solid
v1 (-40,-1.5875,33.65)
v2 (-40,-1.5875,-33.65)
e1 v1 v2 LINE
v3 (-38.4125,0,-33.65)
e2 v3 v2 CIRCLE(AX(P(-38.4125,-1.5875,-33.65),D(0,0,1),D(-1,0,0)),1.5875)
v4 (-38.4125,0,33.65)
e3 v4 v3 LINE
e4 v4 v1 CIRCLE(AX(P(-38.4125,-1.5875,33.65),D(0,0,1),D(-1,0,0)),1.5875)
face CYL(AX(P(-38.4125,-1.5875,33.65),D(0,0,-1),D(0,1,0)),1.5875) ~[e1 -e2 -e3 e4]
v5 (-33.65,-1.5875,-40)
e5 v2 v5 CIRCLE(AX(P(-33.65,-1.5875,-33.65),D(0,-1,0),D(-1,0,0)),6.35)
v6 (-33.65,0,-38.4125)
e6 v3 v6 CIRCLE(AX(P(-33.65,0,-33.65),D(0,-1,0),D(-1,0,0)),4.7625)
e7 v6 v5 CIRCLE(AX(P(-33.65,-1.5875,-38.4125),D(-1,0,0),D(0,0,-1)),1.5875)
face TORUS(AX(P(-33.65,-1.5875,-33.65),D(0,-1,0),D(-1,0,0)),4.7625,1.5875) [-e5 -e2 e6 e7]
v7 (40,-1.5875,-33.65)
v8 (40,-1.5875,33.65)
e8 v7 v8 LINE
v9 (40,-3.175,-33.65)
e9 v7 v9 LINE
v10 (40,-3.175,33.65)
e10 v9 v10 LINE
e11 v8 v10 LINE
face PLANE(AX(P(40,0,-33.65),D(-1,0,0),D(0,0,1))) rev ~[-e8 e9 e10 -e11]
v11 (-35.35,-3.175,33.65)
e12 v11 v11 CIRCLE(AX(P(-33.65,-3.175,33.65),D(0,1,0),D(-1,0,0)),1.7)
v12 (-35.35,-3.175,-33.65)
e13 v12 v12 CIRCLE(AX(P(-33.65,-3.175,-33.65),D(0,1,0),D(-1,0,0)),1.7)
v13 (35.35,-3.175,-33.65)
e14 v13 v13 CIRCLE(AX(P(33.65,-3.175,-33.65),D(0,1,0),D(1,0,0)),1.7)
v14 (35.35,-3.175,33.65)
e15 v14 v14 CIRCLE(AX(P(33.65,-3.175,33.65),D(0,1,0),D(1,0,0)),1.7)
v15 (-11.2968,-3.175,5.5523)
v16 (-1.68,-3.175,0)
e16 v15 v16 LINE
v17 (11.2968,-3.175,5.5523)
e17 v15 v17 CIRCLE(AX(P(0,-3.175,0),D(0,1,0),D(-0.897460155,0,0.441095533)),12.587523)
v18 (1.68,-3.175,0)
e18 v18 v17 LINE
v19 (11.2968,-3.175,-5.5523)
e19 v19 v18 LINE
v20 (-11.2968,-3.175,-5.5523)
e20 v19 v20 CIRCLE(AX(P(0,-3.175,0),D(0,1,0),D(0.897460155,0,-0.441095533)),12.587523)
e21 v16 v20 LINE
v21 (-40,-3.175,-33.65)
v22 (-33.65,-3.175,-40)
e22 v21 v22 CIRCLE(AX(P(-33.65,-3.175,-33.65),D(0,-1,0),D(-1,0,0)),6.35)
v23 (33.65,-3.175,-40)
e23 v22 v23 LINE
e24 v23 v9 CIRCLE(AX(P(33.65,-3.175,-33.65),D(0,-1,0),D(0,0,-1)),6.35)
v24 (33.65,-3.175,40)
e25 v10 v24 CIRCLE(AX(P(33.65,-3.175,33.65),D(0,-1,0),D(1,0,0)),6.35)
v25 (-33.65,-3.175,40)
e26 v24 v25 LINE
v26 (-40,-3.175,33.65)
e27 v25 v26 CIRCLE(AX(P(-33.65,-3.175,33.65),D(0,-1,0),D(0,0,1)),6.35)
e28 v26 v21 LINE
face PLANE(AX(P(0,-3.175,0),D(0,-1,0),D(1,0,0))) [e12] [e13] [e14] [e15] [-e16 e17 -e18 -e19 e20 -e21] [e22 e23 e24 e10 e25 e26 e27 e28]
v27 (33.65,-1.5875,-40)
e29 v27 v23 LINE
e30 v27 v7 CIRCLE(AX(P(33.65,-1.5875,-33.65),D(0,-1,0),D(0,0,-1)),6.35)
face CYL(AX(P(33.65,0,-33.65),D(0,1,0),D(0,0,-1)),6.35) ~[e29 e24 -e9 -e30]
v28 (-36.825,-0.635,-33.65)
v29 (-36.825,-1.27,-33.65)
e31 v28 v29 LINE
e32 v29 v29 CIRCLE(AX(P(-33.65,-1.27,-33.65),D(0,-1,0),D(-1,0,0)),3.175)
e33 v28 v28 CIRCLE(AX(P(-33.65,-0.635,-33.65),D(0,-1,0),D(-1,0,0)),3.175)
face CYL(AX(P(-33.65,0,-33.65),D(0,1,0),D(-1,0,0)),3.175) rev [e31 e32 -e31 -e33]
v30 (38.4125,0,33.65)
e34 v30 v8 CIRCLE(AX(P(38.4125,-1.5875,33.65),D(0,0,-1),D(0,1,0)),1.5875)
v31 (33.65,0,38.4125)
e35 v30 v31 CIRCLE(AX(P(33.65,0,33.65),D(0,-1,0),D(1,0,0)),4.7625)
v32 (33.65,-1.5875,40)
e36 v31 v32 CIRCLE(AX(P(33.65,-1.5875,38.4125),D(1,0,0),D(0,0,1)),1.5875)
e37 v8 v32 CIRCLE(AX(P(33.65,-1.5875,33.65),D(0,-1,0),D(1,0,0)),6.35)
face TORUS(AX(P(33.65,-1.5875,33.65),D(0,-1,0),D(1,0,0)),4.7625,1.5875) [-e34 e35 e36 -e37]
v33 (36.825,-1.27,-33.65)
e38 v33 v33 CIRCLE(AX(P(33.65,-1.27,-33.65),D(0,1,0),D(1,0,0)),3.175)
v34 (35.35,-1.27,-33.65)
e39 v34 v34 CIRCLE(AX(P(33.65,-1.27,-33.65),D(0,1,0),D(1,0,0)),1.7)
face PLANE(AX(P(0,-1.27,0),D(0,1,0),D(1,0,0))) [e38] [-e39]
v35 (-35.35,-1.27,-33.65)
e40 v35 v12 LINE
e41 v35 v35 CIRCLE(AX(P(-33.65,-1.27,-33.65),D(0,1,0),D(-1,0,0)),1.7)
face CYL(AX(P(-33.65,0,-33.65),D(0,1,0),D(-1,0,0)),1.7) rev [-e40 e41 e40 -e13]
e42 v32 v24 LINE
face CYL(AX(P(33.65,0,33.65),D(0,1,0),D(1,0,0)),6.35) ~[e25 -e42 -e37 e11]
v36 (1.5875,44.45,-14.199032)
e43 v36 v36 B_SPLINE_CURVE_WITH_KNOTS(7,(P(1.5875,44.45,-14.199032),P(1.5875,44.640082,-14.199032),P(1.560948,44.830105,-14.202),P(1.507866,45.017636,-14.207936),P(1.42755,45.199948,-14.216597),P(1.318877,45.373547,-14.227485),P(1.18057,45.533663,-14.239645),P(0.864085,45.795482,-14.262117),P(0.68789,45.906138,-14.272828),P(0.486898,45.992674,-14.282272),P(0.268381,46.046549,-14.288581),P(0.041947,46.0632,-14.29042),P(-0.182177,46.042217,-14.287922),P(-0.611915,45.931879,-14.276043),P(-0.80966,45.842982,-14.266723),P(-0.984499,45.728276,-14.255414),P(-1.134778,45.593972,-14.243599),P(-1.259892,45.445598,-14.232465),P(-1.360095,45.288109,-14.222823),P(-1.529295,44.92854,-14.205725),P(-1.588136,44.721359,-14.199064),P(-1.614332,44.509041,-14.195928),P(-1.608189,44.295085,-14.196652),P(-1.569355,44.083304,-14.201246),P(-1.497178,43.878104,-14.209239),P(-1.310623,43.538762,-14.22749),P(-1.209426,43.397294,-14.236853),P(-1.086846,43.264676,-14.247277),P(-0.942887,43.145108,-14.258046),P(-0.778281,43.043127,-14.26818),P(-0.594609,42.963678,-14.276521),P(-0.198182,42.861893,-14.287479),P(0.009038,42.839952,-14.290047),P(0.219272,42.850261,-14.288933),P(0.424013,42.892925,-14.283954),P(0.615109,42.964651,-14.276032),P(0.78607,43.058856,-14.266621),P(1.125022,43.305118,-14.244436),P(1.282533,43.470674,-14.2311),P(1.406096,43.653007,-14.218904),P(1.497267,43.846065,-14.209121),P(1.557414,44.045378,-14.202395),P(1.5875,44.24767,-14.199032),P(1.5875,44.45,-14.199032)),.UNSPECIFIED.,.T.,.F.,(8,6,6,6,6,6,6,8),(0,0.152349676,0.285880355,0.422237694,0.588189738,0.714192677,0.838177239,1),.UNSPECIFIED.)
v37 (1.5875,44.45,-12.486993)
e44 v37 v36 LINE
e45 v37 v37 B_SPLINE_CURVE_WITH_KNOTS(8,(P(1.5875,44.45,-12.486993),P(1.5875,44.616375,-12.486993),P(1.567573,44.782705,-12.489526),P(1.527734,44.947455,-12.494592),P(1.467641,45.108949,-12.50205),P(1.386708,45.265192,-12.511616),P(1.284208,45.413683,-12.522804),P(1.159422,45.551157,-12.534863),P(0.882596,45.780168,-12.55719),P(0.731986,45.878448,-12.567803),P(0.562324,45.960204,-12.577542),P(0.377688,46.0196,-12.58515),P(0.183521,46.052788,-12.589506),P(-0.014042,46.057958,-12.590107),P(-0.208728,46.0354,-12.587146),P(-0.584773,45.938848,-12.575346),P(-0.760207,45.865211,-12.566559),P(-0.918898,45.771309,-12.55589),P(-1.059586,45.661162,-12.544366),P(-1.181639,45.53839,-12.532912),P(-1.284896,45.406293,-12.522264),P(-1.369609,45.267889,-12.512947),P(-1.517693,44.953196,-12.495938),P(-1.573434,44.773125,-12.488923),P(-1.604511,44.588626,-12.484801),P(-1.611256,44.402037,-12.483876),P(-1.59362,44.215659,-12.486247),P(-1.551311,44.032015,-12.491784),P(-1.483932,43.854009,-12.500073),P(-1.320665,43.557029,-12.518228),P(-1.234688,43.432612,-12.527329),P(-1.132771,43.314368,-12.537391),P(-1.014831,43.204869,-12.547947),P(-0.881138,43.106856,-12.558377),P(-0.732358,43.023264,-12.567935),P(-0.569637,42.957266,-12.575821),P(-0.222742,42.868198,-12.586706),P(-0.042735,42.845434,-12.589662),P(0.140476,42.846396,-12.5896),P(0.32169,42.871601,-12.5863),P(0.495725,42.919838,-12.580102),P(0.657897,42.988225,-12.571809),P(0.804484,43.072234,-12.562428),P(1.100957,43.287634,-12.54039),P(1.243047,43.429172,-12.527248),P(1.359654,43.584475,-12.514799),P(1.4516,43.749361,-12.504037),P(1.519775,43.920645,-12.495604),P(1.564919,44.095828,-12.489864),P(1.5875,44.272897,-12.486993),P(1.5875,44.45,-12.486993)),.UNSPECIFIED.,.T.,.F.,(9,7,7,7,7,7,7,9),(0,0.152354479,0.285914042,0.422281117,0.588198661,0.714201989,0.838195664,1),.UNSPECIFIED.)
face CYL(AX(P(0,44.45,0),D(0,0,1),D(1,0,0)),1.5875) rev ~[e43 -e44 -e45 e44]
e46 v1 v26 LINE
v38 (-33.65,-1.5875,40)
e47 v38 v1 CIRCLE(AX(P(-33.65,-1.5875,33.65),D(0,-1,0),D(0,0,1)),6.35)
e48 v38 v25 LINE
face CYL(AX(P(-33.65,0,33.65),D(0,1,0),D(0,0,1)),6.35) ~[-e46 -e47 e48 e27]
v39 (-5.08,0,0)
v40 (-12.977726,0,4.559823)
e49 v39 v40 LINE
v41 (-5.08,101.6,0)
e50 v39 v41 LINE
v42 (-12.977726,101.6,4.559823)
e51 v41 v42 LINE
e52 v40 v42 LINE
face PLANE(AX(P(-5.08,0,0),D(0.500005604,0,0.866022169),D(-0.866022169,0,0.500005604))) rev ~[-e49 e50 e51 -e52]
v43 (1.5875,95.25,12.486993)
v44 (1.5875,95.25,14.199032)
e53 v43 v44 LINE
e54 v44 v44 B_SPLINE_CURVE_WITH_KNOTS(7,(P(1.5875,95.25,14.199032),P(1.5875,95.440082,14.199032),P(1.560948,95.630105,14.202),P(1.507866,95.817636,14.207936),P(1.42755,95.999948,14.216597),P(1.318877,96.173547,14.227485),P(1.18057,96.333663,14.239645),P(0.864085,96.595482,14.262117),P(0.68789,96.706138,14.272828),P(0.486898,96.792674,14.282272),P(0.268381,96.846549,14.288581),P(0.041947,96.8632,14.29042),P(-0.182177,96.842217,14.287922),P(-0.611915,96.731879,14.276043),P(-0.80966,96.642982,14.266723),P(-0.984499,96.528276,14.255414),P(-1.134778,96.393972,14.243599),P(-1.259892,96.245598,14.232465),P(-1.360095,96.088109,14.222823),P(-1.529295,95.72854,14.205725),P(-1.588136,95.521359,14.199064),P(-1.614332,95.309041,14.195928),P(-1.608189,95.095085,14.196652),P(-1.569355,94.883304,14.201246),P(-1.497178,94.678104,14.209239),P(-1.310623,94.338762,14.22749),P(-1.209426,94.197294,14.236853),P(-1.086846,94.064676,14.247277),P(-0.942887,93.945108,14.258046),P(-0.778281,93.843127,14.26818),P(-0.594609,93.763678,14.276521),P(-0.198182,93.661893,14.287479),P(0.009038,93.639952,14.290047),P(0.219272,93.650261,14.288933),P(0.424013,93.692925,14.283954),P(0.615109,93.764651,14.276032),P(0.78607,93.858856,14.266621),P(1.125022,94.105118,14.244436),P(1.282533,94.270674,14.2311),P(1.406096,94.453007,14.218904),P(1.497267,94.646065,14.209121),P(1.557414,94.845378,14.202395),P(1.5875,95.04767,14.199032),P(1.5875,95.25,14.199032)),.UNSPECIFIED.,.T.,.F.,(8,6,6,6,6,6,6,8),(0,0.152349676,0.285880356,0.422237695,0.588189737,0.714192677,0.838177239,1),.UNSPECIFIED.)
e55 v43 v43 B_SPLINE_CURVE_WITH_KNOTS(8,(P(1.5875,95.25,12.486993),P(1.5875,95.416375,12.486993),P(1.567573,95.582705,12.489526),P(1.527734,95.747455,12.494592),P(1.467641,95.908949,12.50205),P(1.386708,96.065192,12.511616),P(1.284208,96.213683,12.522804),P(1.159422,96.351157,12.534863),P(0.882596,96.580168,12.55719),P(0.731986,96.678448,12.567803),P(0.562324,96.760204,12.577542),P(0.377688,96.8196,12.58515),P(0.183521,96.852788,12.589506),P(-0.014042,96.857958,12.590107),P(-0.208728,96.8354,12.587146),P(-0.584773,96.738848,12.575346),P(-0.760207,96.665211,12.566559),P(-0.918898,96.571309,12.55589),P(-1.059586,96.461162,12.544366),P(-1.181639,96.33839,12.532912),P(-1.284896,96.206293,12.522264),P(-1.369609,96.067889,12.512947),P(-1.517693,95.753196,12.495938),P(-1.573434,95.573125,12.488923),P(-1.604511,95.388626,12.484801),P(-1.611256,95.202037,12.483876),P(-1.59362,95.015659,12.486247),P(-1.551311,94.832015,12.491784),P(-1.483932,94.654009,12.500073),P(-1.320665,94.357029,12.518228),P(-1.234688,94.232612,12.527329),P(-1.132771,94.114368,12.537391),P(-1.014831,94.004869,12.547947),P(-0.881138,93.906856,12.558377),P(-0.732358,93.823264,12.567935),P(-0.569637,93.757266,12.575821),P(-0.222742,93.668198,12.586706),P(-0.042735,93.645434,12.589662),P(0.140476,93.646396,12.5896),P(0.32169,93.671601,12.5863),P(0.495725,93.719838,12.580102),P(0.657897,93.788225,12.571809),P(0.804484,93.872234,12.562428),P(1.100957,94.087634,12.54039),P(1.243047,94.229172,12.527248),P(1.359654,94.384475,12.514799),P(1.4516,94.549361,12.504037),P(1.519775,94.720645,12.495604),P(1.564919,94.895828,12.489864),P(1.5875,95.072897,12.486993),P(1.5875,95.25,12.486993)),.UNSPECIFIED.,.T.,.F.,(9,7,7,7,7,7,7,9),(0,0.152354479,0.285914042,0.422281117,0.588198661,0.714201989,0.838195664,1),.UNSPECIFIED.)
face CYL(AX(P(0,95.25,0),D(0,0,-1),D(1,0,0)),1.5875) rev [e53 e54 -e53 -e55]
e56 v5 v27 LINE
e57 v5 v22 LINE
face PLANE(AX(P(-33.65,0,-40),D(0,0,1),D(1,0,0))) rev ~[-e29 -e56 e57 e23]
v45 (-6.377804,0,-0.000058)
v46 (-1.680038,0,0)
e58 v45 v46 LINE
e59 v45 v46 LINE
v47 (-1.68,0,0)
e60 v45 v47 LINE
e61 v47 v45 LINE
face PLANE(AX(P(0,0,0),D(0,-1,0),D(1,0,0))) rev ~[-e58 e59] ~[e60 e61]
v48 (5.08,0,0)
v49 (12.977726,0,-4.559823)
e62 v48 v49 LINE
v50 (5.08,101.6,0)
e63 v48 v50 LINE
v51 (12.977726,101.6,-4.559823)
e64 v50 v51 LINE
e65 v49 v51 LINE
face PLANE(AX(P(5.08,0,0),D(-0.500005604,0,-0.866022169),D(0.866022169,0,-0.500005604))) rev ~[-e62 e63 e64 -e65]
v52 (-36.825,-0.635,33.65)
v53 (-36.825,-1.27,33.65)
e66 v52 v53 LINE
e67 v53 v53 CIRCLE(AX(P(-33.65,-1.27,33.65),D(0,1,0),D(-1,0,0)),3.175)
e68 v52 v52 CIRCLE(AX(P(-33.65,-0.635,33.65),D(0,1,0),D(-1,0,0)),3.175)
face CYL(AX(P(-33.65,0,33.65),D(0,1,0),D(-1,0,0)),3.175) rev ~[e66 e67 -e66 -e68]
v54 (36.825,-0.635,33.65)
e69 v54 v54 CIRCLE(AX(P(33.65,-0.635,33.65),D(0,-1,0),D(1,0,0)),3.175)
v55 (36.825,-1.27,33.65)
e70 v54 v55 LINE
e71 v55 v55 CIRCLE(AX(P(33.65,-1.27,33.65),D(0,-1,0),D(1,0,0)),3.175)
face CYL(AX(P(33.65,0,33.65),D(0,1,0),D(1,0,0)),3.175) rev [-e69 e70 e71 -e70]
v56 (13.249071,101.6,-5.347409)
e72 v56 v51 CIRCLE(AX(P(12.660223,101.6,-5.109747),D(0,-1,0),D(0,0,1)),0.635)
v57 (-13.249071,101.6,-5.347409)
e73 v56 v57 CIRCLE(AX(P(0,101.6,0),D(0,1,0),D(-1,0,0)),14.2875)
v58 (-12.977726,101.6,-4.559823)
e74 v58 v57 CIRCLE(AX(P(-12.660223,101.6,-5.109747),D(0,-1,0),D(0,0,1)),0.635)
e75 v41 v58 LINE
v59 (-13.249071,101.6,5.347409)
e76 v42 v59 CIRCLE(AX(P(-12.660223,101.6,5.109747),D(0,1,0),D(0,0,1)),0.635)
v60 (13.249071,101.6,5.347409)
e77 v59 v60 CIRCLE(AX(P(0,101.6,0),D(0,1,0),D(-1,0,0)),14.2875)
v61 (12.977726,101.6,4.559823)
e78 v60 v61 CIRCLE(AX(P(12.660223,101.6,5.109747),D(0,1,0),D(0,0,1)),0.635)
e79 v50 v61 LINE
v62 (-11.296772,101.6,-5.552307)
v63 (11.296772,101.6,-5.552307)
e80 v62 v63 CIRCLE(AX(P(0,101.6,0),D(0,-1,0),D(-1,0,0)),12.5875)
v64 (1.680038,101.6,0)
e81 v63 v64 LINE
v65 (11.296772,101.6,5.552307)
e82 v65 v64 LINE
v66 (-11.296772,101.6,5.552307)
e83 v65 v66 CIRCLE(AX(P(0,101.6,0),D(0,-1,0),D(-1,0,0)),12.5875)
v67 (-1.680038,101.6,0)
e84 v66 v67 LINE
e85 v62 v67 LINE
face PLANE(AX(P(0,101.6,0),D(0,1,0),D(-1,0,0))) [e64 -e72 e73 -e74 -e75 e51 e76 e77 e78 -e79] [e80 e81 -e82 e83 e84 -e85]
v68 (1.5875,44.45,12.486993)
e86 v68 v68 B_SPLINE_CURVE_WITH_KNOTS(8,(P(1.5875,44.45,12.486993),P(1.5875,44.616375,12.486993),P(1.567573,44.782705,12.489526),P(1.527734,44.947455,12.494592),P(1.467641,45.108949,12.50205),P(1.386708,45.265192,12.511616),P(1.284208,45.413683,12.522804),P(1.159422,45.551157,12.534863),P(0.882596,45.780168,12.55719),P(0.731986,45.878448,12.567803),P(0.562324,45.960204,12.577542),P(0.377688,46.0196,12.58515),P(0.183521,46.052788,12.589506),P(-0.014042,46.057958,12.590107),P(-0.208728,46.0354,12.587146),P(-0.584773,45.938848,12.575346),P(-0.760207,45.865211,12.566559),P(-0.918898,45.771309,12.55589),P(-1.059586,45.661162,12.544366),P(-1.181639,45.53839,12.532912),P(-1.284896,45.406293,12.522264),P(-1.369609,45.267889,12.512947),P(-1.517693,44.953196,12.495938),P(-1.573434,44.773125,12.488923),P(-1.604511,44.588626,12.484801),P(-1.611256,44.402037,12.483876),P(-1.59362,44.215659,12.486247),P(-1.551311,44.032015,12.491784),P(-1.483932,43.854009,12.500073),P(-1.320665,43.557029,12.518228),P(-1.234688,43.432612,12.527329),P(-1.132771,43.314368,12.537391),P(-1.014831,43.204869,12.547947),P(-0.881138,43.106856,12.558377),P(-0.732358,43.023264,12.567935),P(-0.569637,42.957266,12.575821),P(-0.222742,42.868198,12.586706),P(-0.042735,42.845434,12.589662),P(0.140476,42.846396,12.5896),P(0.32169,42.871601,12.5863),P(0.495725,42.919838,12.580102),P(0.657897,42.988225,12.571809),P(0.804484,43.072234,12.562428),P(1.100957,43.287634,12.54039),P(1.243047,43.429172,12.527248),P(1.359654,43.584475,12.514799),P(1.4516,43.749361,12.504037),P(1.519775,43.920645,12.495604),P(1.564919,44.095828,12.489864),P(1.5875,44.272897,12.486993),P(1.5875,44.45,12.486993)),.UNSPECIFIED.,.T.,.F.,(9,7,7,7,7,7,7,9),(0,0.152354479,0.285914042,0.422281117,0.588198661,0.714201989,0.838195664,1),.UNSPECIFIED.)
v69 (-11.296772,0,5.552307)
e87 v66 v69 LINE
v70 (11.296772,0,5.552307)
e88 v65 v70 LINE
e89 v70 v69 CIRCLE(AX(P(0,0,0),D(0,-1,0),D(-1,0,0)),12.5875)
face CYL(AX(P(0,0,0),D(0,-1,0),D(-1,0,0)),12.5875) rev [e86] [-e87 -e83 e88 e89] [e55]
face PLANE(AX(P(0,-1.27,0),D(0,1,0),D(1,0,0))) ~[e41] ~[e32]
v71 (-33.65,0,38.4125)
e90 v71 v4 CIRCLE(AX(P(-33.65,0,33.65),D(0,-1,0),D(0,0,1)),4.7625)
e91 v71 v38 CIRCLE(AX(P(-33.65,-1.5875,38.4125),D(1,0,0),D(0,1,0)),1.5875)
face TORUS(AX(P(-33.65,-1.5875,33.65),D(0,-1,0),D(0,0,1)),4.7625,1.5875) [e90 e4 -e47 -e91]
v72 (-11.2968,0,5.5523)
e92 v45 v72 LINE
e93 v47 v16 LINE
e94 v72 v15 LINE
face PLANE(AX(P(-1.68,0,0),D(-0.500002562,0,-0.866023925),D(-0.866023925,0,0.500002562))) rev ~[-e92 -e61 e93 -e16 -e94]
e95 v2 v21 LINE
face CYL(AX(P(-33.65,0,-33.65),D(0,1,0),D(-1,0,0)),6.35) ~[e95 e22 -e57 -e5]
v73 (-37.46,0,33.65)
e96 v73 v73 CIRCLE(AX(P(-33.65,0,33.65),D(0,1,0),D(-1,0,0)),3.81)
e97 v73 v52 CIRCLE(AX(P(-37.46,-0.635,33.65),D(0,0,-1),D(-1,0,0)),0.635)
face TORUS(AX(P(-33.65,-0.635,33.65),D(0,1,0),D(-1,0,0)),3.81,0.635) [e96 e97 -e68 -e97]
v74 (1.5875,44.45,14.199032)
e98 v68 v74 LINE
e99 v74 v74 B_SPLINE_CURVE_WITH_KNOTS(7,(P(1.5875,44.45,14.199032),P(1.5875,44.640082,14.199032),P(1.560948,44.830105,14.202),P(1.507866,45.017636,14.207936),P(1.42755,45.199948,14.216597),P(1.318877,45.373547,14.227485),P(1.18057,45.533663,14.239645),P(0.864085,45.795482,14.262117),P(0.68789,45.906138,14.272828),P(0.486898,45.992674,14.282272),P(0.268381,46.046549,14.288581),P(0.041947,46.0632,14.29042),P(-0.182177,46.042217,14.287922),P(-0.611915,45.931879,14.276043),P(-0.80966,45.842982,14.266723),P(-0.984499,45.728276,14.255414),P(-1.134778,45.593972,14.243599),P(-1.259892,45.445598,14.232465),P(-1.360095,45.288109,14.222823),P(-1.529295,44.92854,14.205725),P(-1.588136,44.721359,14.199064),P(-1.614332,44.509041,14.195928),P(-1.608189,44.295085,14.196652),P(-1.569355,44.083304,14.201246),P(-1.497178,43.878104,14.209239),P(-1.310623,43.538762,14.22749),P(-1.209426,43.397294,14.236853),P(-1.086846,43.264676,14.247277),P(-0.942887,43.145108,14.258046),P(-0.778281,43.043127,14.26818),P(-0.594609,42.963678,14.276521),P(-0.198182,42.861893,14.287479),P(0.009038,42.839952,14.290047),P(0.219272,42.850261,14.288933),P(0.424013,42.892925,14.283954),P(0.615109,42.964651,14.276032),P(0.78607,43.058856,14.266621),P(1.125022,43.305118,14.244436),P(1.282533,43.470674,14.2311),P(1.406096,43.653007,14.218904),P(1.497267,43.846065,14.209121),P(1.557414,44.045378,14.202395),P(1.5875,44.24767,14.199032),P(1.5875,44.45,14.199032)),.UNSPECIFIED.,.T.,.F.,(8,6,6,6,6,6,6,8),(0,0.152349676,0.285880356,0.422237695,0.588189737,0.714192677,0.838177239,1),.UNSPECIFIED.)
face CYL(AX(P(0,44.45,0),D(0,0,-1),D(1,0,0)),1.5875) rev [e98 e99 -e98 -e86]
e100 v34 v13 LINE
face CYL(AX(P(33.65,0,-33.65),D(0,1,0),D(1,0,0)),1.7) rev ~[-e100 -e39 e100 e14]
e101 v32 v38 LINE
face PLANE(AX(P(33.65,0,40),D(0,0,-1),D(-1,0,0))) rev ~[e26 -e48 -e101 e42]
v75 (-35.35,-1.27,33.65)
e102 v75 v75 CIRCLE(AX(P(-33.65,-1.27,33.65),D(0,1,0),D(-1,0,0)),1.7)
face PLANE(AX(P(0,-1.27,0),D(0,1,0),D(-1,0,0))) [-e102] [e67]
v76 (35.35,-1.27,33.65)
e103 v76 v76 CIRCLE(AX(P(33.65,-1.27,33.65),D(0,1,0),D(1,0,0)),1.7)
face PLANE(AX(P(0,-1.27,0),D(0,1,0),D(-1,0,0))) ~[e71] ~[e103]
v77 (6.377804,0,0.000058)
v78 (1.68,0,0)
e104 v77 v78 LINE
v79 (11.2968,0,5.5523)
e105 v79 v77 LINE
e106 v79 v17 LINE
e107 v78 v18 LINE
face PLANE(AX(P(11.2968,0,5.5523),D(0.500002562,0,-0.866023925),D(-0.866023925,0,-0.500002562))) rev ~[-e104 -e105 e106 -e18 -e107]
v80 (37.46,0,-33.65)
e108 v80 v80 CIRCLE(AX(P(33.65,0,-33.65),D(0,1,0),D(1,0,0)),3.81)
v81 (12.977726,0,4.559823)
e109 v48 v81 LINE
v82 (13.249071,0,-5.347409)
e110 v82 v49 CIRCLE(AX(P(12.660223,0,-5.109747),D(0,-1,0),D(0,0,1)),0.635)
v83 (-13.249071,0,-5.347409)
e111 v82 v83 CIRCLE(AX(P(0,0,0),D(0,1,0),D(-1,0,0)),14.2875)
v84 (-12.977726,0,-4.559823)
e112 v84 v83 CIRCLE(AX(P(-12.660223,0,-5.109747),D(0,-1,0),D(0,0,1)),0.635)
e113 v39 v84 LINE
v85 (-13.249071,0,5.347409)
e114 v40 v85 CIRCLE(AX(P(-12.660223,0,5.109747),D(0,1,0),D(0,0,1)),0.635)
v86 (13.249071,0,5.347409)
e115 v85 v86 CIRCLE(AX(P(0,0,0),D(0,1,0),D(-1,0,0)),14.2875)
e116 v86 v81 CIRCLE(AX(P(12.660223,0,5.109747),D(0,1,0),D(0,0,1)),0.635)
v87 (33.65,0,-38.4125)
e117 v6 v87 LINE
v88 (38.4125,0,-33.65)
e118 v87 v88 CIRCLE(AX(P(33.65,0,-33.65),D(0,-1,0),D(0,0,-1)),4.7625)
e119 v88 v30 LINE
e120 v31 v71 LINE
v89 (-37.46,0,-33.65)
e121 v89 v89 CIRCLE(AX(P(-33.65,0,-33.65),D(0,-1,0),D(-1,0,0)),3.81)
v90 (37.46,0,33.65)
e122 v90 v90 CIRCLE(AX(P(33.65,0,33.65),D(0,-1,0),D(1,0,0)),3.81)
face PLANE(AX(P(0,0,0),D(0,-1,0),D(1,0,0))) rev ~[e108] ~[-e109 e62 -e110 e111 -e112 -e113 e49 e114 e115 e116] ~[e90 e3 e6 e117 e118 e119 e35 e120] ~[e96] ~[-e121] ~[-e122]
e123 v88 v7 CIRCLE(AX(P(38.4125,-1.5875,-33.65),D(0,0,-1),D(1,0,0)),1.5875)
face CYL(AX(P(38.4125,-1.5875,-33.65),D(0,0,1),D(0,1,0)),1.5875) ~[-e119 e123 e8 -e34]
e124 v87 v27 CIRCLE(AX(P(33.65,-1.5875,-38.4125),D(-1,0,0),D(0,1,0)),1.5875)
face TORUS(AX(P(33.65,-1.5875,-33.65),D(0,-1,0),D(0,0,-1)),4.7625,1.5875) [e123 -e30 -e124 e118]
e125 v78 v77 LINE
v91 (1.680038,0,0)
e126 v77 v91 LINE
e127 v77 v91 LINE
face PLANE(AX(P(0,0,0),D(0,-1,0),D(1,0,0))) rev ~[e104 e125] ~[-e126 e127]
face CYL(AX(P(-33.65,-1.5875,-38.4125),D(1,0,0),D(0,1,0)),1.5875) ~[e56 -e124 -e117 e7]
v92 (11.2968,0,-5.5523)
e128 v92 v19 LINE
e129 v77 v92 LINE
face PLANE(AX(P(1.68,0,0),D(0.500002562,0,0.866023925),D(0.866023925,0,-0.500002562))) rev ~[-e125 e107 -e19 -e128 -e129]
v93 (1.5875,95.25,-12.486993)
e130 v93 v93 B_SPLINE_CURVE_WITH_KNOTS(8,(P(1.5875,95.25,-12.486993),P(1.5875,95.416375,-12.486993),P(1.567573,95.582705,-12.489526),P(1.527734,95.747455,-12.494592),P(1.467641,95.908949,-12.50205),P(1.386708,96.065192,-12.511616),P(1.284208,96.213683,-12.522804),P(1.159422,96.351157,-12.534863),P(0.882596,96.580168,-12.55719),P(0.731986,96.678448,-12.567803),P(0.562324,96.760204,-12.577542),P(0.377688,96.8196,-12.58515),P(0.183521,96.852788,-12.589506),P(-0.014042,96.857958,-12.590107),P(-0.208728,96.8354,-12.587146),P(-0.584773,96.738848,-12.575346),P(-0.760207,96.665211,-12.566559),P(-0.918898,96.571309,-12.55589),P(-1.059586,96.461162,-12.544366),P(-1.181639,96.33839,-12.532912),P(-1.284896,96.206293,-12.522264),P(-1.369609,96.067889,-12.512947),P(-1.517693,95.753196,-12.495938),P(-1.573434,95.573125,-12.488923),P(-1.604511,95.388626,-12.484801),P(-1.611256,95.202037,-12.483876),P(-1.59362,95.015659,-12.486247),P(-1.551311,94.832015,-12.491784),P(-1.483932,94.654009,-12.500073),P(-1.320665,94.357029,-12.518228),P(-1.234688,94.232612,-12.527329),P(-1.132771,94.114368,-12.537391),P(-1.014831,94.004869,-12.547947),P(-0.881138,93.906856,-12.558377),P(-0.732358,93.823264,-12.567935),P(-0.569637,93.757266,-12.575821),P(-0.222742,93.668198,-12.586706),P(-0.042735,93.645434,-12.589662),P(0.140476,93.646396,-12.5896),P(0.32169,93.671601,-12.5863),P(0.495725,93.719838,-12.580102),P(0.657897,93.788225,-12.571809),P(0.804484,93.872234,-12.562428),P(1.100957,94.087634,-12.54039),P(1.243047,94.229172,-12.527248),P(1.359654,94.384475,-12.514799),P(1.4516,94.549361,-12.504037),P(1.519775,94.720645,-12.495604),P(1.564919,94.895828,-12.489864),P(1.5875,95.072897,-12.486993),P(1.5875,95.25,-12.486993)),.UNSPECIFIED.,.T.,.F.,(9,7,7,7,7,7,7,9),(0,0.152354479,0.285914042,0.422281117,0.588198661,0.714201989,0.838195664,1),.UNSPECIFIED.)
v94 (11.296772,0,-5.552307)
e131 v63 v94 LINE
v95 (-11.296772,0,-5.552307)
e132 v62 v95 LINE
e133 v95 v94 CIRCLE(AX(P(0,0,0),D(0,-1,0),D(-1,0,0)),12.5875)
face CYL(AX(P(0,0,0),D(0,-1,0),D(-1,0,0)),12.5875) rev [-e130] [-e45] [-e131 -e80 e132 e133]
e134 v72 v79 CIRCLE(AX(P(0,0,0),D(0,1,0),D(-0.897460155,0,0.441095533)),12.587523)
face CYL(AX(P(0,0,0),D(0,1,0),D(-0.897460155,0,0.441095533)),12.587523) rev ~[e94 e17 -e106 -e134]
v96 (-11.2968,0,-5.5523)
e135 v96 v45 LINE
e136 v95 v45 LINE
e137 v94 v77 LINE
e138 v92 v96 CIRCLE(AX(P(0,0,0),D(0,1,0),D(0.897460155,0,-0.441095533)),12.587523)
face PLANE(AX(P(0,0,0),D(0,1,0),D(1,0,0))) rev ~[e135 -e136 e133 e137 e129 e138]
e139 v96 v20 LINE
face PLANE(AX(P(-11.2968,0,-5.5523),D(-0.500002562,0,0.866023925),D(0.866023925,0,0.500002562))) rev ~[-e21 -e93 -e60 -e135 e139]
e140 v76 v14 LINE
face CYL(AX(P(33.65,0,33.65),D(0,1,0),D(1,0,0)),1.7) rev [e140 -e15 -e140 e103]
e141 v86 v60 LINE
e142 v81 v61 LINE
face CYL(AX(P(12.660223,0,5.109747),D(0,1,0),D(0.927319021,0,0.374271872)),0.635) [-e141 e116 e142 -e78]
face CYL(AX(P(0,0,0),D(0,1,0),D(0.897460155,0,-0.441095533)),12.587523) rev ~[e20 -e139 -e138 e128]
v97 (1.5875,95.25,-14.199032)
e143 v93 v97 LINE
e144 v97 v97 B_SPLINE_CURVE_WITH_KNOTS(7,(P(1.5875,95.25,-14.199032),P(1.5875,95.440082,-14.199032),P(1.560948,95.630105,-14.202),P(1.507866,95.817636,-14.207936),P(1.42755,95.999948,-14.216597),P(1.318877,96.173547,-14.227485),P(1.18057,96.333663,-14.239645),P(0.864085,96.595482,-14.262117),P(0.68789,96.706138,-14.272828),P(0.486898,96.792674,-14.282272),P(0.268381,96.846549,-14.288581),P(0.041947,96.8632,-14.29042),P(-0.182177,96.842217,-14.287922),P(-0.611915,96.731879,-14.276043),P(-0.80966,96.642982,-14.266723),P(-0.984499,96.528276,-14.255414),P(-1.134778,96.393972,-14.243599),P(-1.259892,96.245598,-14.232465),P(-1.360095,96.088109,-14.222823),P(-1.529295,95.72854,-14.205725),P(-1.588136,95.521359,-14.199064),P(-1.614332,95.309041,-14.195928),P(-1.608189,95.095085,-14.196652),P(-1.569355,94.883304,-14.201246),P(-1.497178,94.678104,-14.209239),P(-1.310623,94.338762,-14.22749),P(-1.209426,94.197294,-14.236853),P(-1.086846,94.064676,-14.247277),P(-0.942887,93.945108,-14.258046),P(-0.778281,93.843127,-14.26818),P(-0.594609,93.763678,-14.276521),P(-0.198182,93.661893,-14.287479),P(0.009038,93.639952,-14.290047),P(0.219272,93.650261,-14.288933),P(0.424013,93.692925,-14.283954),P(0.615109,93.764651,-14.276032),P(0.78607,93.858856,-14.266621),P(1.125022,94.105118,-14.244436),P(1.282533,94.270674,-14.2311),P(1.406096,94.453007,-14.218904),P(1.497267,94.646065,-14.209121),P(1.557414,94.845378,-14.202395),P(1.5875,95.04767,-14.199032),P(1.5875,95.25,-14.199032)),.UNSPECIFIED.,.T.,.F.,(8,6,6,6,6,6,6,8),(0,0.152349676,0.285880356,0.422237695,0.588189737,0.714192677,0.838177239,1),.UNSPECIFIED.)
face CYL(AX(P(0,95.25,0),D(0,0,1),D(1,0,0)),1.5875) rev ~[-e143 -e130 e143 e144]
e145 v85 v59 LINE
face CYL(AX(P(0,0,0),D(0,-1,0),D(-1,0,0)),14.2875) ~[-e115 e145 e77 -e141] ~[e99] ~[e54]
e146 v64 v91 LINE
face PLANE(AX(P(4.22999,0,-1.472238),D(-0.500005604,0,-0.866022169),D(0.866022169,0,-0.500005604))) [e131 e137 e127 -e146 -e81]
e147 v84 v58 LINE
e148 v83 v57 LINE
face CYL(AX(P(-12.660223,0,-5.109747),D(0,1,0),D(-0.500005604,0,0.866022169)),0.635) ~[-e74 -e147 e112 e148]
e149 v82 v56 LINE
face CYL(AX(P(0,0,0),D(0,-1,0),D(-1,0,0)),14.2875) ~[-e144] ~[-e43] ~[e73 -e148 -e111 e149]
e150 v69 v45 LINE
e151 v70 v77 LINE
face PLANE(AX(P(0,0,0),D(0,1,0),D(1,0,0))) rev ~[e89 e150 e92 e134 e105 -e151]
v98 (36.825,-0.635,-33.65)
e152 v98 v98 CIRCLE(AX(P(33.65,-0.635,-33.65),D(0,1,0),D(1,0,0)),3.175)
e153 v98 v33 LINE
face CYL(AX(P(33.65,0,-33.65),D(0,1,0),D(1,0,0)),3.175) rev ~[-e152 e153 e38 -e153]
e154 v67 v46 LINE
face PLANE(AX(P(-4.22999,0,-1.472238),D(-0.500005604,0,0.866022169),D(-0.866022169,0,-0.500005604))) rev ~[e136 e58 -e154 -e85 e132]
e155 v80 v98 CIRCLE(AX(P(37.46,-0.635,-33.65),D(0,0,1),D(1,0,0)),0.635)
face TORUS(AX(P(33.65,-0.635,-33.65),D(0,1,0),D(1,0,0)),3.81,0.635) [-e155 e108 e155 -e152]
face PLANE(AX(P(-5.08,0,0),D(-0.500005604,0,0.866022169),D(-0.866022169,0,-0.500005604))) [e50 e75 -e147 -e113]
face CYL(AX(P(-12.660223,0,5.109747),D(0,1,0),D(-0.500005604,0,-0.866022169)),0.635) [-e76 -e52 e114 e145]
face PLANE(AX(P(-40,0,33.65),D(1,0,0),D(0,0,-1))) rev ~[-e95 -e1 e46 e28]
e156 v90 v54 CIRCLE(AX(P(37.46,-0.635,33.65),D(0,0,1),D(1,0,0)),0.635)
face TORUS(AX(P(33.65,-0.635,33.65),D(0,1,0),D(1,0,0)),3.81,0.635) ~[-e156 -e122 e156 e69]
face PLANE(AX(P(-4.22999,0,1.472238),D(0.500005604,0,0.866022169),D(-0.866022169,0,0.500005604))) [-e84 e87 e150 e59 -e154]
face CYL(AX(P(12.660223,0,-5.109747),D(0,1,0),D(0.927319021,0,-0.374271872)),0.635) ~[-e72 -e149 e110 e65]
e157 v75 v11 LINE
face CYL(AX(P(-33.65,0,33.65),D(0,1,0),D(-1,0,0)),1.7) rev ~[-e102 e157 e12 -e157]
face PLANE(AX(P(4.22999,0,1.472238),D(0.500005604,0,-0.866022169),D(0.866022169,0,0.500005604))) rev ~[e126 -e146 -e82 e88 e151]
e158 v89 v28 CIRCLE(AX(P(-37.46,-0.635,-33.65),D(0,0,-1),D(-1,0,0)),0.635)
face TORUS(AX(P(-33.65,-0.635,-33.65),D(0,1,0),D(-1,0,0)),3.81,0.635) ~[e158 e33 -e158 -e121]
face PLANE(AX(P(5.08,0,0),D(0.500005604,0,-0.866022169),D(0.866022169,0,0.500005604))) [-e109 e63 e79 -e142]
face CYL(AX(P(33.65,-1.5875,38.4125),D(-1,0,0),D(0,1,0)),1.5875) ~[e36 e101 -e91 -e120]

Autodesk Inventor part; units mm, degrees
ref_plane "YZ Plane" through (0, 0, 0) normal (1, 0, 0) x (0, 1, 0)
ref_plane "XZ Plane" through (0, 0, 0) normal (0, 1, 0) x (-1, 0, 0)
ref_plane "XY Plane" through (0, 0, 0) normal (0, 0, 1) x (1, 0, 0)
sketch "Sketch1" plane through (0, 0, 0) normal (0, 1, 0) x (-1, 0, 0)
  circle A0 centre (0, 0) radius 14.2875
  line L0 (5.08, 0) -> (13.4462, -4.8303)
  line L1 (5.08, 0) -> (14.7405, 0) construction
  line L2 (5.08, 0) -> (13.4462, 4.8303)
  line L3 (-5.08, 0) -> (-13.4462, -4.8303)
  line L4 (-5.08, 0) -> (-13.4462, 4.8303)
  dimension "d0" = 28.575
  dimension "d1" = 5.08
  dimension "d2" = 30
extrude "Extrusion1" add sketch "Sketch1" along normal blind 101.6 contours L2 L0 A0 L3 L4
shell "Shell1" thickness 1.7 removed faces 2 at (0, 0, -4.7625) at (0, 101.6, -4.7625)
sketch "Sketch2" plane through (0, 0, 0) normal (0, -1, 0) x (1, 0, 0)
  line L0 (33.65, 40) -> (-33.65, 40)
  line L1 (-40, 33.65) -> (-40, -33.65)
  line L2 (-33.65, -40) -> (33.65, -40)
  line L3 (40, -33.65) -> (40, 33.65)
  line L4 (40, 40) -> (-40, -40) construction
  line L5 (-40, 40) -> (40, -40) construction
  arc A0 (33.65, -40) -> (40, -33.65) centre (33.65, -33.65) ccw
  arc A1 (40, 33.65) -> (33.65, 40) centre (33.65, 33.65) ccw
  arc A2 (-33.65, 40) -> (-40, 33.65) centre (-33.65, 33.65) ccw
  arc A3 (-40, -33.65) -> (-33.65, -40) centre (-33.65, -33.65) ccw
  point P0 (0, 0)
  dimension "d6" = 80
  dimension "d7" = 80
  dimension "d9" = 6.35
extrude "Extrusion2" add sketch "Sketch2" along normal blind 3.175
sketch "Sketch3" plane through (0, 0, 0) normal (0, 1, 0) x (1, 0, 0)
  arc A0 (-11.2968, -5.5523) -> (11.2968, -5.5523) centre (0, 0) ccw projected
  line L0 (11.2968, -5.5523) -> (1.68, 0) projected
  line L1 (1.68, 0) -> (11.2968, 5.5523) projected
  arc A1 (11.2968, 5.5523) -> (-11.2968, 5.5523) centre (0, 0) ccw projected
  line L2 (-11.2968, 5.5523) -> (-1.68, 0) projected
  line L3 (-1.68, 0) -> (-11.2968, -5.5523) projected
extrude "Extrusion3" cut sketch "Sketch3" against normal through all
sketch "Sketch4" plane through (0, 0, 0) normal (0, 0, 1) x (1, 0, 0)
  circle A0 centre (0, 44.45) radius 1.5875
  point P0 (0, 0)
  dimension "d14" = 3.175
  dimension "d15" = 44.45
extrude "Extrusion4" cut sketch "Sketch4" along normal mid plane 101.6
sketch "Sketch5" plane through (0, 0, 0) normal (0, 0, 1) x (1, 0, 0)
  circle A0 centre (0, 95.25) radius 1.5875
  line L0 (33.65, 0) -> (40, 0) projected
  point P0 (0, 0)
  dimension "d18" = 3.175
  dimension "d19" = 95.25
extrude "Extrusion5" cut sketch "Sketch5" along normal blind 101.6 and the other way blind 50.8
sketch "Sketch6" plane through (0, 0, 0) normal (0, 1, 0) x (1, 0, 0)
  arc A0 (40, 33.65) -> (33.65, 40) centre (33.65, 33.65) ccw projected
  circle A1 centre (33.65, 33.65) radius 1.7
  point P0 (0, 0)
  dimension "d24" = 3.4
extrude "Extrusion6" cut sketch "Sketch6" against normal blind 25.4
sketch "Sketch7" plane through (0, 0, 0) normal (0, 1, 0) x (1, 0, 0)
  arc A0 (40, 33.65) -> (33.65, 40) centre (33.65, 33.65) ccw projected
  circle A1 centre (33.65, 33.65) radius 3.175
  point P0 (0, 0)
  dimension "d27" = 6.35
extrude "Extrusion7" cut sketch "Sketch7" against normal blind 1.27
mirror "Mirror1" about plane through (0, 0, 0) normal (1, 0, 0) of "Extrusion6", "Extrusion7"
mirror "Mirror2" about plane through (0, 0, 0) normal (0, 0, 1) of "Extrusion6", "Extrusion7", "Mirror1"
fillet "Fillet1" radius 1.5875 8 edges at (-38.1401, 0, -38.1401) (0, 0, -40) (38.1401, 0, -38.1401) (40, 0, 0) (38.1401, 0, 38.1401) (0, 0, 40) (-38.1401, 0, 38.1401) (-40, 0, 0)
fillet "Fillet2" radius 0.635 8 edges at (-30.475, 0, 33.65) (-30.475, 0, -33.65) (30.475, 0, -33.65) (30.475, 0, 33.65) (-13.4462, 50.8, 4.8303) (-13.4462, 50.8, -4.8303) (13.4462, 50.8, 4.8303) (13.4462, 50.8, -4.8303)
properties part number "Arduino_case_top_JC_Rev1"
